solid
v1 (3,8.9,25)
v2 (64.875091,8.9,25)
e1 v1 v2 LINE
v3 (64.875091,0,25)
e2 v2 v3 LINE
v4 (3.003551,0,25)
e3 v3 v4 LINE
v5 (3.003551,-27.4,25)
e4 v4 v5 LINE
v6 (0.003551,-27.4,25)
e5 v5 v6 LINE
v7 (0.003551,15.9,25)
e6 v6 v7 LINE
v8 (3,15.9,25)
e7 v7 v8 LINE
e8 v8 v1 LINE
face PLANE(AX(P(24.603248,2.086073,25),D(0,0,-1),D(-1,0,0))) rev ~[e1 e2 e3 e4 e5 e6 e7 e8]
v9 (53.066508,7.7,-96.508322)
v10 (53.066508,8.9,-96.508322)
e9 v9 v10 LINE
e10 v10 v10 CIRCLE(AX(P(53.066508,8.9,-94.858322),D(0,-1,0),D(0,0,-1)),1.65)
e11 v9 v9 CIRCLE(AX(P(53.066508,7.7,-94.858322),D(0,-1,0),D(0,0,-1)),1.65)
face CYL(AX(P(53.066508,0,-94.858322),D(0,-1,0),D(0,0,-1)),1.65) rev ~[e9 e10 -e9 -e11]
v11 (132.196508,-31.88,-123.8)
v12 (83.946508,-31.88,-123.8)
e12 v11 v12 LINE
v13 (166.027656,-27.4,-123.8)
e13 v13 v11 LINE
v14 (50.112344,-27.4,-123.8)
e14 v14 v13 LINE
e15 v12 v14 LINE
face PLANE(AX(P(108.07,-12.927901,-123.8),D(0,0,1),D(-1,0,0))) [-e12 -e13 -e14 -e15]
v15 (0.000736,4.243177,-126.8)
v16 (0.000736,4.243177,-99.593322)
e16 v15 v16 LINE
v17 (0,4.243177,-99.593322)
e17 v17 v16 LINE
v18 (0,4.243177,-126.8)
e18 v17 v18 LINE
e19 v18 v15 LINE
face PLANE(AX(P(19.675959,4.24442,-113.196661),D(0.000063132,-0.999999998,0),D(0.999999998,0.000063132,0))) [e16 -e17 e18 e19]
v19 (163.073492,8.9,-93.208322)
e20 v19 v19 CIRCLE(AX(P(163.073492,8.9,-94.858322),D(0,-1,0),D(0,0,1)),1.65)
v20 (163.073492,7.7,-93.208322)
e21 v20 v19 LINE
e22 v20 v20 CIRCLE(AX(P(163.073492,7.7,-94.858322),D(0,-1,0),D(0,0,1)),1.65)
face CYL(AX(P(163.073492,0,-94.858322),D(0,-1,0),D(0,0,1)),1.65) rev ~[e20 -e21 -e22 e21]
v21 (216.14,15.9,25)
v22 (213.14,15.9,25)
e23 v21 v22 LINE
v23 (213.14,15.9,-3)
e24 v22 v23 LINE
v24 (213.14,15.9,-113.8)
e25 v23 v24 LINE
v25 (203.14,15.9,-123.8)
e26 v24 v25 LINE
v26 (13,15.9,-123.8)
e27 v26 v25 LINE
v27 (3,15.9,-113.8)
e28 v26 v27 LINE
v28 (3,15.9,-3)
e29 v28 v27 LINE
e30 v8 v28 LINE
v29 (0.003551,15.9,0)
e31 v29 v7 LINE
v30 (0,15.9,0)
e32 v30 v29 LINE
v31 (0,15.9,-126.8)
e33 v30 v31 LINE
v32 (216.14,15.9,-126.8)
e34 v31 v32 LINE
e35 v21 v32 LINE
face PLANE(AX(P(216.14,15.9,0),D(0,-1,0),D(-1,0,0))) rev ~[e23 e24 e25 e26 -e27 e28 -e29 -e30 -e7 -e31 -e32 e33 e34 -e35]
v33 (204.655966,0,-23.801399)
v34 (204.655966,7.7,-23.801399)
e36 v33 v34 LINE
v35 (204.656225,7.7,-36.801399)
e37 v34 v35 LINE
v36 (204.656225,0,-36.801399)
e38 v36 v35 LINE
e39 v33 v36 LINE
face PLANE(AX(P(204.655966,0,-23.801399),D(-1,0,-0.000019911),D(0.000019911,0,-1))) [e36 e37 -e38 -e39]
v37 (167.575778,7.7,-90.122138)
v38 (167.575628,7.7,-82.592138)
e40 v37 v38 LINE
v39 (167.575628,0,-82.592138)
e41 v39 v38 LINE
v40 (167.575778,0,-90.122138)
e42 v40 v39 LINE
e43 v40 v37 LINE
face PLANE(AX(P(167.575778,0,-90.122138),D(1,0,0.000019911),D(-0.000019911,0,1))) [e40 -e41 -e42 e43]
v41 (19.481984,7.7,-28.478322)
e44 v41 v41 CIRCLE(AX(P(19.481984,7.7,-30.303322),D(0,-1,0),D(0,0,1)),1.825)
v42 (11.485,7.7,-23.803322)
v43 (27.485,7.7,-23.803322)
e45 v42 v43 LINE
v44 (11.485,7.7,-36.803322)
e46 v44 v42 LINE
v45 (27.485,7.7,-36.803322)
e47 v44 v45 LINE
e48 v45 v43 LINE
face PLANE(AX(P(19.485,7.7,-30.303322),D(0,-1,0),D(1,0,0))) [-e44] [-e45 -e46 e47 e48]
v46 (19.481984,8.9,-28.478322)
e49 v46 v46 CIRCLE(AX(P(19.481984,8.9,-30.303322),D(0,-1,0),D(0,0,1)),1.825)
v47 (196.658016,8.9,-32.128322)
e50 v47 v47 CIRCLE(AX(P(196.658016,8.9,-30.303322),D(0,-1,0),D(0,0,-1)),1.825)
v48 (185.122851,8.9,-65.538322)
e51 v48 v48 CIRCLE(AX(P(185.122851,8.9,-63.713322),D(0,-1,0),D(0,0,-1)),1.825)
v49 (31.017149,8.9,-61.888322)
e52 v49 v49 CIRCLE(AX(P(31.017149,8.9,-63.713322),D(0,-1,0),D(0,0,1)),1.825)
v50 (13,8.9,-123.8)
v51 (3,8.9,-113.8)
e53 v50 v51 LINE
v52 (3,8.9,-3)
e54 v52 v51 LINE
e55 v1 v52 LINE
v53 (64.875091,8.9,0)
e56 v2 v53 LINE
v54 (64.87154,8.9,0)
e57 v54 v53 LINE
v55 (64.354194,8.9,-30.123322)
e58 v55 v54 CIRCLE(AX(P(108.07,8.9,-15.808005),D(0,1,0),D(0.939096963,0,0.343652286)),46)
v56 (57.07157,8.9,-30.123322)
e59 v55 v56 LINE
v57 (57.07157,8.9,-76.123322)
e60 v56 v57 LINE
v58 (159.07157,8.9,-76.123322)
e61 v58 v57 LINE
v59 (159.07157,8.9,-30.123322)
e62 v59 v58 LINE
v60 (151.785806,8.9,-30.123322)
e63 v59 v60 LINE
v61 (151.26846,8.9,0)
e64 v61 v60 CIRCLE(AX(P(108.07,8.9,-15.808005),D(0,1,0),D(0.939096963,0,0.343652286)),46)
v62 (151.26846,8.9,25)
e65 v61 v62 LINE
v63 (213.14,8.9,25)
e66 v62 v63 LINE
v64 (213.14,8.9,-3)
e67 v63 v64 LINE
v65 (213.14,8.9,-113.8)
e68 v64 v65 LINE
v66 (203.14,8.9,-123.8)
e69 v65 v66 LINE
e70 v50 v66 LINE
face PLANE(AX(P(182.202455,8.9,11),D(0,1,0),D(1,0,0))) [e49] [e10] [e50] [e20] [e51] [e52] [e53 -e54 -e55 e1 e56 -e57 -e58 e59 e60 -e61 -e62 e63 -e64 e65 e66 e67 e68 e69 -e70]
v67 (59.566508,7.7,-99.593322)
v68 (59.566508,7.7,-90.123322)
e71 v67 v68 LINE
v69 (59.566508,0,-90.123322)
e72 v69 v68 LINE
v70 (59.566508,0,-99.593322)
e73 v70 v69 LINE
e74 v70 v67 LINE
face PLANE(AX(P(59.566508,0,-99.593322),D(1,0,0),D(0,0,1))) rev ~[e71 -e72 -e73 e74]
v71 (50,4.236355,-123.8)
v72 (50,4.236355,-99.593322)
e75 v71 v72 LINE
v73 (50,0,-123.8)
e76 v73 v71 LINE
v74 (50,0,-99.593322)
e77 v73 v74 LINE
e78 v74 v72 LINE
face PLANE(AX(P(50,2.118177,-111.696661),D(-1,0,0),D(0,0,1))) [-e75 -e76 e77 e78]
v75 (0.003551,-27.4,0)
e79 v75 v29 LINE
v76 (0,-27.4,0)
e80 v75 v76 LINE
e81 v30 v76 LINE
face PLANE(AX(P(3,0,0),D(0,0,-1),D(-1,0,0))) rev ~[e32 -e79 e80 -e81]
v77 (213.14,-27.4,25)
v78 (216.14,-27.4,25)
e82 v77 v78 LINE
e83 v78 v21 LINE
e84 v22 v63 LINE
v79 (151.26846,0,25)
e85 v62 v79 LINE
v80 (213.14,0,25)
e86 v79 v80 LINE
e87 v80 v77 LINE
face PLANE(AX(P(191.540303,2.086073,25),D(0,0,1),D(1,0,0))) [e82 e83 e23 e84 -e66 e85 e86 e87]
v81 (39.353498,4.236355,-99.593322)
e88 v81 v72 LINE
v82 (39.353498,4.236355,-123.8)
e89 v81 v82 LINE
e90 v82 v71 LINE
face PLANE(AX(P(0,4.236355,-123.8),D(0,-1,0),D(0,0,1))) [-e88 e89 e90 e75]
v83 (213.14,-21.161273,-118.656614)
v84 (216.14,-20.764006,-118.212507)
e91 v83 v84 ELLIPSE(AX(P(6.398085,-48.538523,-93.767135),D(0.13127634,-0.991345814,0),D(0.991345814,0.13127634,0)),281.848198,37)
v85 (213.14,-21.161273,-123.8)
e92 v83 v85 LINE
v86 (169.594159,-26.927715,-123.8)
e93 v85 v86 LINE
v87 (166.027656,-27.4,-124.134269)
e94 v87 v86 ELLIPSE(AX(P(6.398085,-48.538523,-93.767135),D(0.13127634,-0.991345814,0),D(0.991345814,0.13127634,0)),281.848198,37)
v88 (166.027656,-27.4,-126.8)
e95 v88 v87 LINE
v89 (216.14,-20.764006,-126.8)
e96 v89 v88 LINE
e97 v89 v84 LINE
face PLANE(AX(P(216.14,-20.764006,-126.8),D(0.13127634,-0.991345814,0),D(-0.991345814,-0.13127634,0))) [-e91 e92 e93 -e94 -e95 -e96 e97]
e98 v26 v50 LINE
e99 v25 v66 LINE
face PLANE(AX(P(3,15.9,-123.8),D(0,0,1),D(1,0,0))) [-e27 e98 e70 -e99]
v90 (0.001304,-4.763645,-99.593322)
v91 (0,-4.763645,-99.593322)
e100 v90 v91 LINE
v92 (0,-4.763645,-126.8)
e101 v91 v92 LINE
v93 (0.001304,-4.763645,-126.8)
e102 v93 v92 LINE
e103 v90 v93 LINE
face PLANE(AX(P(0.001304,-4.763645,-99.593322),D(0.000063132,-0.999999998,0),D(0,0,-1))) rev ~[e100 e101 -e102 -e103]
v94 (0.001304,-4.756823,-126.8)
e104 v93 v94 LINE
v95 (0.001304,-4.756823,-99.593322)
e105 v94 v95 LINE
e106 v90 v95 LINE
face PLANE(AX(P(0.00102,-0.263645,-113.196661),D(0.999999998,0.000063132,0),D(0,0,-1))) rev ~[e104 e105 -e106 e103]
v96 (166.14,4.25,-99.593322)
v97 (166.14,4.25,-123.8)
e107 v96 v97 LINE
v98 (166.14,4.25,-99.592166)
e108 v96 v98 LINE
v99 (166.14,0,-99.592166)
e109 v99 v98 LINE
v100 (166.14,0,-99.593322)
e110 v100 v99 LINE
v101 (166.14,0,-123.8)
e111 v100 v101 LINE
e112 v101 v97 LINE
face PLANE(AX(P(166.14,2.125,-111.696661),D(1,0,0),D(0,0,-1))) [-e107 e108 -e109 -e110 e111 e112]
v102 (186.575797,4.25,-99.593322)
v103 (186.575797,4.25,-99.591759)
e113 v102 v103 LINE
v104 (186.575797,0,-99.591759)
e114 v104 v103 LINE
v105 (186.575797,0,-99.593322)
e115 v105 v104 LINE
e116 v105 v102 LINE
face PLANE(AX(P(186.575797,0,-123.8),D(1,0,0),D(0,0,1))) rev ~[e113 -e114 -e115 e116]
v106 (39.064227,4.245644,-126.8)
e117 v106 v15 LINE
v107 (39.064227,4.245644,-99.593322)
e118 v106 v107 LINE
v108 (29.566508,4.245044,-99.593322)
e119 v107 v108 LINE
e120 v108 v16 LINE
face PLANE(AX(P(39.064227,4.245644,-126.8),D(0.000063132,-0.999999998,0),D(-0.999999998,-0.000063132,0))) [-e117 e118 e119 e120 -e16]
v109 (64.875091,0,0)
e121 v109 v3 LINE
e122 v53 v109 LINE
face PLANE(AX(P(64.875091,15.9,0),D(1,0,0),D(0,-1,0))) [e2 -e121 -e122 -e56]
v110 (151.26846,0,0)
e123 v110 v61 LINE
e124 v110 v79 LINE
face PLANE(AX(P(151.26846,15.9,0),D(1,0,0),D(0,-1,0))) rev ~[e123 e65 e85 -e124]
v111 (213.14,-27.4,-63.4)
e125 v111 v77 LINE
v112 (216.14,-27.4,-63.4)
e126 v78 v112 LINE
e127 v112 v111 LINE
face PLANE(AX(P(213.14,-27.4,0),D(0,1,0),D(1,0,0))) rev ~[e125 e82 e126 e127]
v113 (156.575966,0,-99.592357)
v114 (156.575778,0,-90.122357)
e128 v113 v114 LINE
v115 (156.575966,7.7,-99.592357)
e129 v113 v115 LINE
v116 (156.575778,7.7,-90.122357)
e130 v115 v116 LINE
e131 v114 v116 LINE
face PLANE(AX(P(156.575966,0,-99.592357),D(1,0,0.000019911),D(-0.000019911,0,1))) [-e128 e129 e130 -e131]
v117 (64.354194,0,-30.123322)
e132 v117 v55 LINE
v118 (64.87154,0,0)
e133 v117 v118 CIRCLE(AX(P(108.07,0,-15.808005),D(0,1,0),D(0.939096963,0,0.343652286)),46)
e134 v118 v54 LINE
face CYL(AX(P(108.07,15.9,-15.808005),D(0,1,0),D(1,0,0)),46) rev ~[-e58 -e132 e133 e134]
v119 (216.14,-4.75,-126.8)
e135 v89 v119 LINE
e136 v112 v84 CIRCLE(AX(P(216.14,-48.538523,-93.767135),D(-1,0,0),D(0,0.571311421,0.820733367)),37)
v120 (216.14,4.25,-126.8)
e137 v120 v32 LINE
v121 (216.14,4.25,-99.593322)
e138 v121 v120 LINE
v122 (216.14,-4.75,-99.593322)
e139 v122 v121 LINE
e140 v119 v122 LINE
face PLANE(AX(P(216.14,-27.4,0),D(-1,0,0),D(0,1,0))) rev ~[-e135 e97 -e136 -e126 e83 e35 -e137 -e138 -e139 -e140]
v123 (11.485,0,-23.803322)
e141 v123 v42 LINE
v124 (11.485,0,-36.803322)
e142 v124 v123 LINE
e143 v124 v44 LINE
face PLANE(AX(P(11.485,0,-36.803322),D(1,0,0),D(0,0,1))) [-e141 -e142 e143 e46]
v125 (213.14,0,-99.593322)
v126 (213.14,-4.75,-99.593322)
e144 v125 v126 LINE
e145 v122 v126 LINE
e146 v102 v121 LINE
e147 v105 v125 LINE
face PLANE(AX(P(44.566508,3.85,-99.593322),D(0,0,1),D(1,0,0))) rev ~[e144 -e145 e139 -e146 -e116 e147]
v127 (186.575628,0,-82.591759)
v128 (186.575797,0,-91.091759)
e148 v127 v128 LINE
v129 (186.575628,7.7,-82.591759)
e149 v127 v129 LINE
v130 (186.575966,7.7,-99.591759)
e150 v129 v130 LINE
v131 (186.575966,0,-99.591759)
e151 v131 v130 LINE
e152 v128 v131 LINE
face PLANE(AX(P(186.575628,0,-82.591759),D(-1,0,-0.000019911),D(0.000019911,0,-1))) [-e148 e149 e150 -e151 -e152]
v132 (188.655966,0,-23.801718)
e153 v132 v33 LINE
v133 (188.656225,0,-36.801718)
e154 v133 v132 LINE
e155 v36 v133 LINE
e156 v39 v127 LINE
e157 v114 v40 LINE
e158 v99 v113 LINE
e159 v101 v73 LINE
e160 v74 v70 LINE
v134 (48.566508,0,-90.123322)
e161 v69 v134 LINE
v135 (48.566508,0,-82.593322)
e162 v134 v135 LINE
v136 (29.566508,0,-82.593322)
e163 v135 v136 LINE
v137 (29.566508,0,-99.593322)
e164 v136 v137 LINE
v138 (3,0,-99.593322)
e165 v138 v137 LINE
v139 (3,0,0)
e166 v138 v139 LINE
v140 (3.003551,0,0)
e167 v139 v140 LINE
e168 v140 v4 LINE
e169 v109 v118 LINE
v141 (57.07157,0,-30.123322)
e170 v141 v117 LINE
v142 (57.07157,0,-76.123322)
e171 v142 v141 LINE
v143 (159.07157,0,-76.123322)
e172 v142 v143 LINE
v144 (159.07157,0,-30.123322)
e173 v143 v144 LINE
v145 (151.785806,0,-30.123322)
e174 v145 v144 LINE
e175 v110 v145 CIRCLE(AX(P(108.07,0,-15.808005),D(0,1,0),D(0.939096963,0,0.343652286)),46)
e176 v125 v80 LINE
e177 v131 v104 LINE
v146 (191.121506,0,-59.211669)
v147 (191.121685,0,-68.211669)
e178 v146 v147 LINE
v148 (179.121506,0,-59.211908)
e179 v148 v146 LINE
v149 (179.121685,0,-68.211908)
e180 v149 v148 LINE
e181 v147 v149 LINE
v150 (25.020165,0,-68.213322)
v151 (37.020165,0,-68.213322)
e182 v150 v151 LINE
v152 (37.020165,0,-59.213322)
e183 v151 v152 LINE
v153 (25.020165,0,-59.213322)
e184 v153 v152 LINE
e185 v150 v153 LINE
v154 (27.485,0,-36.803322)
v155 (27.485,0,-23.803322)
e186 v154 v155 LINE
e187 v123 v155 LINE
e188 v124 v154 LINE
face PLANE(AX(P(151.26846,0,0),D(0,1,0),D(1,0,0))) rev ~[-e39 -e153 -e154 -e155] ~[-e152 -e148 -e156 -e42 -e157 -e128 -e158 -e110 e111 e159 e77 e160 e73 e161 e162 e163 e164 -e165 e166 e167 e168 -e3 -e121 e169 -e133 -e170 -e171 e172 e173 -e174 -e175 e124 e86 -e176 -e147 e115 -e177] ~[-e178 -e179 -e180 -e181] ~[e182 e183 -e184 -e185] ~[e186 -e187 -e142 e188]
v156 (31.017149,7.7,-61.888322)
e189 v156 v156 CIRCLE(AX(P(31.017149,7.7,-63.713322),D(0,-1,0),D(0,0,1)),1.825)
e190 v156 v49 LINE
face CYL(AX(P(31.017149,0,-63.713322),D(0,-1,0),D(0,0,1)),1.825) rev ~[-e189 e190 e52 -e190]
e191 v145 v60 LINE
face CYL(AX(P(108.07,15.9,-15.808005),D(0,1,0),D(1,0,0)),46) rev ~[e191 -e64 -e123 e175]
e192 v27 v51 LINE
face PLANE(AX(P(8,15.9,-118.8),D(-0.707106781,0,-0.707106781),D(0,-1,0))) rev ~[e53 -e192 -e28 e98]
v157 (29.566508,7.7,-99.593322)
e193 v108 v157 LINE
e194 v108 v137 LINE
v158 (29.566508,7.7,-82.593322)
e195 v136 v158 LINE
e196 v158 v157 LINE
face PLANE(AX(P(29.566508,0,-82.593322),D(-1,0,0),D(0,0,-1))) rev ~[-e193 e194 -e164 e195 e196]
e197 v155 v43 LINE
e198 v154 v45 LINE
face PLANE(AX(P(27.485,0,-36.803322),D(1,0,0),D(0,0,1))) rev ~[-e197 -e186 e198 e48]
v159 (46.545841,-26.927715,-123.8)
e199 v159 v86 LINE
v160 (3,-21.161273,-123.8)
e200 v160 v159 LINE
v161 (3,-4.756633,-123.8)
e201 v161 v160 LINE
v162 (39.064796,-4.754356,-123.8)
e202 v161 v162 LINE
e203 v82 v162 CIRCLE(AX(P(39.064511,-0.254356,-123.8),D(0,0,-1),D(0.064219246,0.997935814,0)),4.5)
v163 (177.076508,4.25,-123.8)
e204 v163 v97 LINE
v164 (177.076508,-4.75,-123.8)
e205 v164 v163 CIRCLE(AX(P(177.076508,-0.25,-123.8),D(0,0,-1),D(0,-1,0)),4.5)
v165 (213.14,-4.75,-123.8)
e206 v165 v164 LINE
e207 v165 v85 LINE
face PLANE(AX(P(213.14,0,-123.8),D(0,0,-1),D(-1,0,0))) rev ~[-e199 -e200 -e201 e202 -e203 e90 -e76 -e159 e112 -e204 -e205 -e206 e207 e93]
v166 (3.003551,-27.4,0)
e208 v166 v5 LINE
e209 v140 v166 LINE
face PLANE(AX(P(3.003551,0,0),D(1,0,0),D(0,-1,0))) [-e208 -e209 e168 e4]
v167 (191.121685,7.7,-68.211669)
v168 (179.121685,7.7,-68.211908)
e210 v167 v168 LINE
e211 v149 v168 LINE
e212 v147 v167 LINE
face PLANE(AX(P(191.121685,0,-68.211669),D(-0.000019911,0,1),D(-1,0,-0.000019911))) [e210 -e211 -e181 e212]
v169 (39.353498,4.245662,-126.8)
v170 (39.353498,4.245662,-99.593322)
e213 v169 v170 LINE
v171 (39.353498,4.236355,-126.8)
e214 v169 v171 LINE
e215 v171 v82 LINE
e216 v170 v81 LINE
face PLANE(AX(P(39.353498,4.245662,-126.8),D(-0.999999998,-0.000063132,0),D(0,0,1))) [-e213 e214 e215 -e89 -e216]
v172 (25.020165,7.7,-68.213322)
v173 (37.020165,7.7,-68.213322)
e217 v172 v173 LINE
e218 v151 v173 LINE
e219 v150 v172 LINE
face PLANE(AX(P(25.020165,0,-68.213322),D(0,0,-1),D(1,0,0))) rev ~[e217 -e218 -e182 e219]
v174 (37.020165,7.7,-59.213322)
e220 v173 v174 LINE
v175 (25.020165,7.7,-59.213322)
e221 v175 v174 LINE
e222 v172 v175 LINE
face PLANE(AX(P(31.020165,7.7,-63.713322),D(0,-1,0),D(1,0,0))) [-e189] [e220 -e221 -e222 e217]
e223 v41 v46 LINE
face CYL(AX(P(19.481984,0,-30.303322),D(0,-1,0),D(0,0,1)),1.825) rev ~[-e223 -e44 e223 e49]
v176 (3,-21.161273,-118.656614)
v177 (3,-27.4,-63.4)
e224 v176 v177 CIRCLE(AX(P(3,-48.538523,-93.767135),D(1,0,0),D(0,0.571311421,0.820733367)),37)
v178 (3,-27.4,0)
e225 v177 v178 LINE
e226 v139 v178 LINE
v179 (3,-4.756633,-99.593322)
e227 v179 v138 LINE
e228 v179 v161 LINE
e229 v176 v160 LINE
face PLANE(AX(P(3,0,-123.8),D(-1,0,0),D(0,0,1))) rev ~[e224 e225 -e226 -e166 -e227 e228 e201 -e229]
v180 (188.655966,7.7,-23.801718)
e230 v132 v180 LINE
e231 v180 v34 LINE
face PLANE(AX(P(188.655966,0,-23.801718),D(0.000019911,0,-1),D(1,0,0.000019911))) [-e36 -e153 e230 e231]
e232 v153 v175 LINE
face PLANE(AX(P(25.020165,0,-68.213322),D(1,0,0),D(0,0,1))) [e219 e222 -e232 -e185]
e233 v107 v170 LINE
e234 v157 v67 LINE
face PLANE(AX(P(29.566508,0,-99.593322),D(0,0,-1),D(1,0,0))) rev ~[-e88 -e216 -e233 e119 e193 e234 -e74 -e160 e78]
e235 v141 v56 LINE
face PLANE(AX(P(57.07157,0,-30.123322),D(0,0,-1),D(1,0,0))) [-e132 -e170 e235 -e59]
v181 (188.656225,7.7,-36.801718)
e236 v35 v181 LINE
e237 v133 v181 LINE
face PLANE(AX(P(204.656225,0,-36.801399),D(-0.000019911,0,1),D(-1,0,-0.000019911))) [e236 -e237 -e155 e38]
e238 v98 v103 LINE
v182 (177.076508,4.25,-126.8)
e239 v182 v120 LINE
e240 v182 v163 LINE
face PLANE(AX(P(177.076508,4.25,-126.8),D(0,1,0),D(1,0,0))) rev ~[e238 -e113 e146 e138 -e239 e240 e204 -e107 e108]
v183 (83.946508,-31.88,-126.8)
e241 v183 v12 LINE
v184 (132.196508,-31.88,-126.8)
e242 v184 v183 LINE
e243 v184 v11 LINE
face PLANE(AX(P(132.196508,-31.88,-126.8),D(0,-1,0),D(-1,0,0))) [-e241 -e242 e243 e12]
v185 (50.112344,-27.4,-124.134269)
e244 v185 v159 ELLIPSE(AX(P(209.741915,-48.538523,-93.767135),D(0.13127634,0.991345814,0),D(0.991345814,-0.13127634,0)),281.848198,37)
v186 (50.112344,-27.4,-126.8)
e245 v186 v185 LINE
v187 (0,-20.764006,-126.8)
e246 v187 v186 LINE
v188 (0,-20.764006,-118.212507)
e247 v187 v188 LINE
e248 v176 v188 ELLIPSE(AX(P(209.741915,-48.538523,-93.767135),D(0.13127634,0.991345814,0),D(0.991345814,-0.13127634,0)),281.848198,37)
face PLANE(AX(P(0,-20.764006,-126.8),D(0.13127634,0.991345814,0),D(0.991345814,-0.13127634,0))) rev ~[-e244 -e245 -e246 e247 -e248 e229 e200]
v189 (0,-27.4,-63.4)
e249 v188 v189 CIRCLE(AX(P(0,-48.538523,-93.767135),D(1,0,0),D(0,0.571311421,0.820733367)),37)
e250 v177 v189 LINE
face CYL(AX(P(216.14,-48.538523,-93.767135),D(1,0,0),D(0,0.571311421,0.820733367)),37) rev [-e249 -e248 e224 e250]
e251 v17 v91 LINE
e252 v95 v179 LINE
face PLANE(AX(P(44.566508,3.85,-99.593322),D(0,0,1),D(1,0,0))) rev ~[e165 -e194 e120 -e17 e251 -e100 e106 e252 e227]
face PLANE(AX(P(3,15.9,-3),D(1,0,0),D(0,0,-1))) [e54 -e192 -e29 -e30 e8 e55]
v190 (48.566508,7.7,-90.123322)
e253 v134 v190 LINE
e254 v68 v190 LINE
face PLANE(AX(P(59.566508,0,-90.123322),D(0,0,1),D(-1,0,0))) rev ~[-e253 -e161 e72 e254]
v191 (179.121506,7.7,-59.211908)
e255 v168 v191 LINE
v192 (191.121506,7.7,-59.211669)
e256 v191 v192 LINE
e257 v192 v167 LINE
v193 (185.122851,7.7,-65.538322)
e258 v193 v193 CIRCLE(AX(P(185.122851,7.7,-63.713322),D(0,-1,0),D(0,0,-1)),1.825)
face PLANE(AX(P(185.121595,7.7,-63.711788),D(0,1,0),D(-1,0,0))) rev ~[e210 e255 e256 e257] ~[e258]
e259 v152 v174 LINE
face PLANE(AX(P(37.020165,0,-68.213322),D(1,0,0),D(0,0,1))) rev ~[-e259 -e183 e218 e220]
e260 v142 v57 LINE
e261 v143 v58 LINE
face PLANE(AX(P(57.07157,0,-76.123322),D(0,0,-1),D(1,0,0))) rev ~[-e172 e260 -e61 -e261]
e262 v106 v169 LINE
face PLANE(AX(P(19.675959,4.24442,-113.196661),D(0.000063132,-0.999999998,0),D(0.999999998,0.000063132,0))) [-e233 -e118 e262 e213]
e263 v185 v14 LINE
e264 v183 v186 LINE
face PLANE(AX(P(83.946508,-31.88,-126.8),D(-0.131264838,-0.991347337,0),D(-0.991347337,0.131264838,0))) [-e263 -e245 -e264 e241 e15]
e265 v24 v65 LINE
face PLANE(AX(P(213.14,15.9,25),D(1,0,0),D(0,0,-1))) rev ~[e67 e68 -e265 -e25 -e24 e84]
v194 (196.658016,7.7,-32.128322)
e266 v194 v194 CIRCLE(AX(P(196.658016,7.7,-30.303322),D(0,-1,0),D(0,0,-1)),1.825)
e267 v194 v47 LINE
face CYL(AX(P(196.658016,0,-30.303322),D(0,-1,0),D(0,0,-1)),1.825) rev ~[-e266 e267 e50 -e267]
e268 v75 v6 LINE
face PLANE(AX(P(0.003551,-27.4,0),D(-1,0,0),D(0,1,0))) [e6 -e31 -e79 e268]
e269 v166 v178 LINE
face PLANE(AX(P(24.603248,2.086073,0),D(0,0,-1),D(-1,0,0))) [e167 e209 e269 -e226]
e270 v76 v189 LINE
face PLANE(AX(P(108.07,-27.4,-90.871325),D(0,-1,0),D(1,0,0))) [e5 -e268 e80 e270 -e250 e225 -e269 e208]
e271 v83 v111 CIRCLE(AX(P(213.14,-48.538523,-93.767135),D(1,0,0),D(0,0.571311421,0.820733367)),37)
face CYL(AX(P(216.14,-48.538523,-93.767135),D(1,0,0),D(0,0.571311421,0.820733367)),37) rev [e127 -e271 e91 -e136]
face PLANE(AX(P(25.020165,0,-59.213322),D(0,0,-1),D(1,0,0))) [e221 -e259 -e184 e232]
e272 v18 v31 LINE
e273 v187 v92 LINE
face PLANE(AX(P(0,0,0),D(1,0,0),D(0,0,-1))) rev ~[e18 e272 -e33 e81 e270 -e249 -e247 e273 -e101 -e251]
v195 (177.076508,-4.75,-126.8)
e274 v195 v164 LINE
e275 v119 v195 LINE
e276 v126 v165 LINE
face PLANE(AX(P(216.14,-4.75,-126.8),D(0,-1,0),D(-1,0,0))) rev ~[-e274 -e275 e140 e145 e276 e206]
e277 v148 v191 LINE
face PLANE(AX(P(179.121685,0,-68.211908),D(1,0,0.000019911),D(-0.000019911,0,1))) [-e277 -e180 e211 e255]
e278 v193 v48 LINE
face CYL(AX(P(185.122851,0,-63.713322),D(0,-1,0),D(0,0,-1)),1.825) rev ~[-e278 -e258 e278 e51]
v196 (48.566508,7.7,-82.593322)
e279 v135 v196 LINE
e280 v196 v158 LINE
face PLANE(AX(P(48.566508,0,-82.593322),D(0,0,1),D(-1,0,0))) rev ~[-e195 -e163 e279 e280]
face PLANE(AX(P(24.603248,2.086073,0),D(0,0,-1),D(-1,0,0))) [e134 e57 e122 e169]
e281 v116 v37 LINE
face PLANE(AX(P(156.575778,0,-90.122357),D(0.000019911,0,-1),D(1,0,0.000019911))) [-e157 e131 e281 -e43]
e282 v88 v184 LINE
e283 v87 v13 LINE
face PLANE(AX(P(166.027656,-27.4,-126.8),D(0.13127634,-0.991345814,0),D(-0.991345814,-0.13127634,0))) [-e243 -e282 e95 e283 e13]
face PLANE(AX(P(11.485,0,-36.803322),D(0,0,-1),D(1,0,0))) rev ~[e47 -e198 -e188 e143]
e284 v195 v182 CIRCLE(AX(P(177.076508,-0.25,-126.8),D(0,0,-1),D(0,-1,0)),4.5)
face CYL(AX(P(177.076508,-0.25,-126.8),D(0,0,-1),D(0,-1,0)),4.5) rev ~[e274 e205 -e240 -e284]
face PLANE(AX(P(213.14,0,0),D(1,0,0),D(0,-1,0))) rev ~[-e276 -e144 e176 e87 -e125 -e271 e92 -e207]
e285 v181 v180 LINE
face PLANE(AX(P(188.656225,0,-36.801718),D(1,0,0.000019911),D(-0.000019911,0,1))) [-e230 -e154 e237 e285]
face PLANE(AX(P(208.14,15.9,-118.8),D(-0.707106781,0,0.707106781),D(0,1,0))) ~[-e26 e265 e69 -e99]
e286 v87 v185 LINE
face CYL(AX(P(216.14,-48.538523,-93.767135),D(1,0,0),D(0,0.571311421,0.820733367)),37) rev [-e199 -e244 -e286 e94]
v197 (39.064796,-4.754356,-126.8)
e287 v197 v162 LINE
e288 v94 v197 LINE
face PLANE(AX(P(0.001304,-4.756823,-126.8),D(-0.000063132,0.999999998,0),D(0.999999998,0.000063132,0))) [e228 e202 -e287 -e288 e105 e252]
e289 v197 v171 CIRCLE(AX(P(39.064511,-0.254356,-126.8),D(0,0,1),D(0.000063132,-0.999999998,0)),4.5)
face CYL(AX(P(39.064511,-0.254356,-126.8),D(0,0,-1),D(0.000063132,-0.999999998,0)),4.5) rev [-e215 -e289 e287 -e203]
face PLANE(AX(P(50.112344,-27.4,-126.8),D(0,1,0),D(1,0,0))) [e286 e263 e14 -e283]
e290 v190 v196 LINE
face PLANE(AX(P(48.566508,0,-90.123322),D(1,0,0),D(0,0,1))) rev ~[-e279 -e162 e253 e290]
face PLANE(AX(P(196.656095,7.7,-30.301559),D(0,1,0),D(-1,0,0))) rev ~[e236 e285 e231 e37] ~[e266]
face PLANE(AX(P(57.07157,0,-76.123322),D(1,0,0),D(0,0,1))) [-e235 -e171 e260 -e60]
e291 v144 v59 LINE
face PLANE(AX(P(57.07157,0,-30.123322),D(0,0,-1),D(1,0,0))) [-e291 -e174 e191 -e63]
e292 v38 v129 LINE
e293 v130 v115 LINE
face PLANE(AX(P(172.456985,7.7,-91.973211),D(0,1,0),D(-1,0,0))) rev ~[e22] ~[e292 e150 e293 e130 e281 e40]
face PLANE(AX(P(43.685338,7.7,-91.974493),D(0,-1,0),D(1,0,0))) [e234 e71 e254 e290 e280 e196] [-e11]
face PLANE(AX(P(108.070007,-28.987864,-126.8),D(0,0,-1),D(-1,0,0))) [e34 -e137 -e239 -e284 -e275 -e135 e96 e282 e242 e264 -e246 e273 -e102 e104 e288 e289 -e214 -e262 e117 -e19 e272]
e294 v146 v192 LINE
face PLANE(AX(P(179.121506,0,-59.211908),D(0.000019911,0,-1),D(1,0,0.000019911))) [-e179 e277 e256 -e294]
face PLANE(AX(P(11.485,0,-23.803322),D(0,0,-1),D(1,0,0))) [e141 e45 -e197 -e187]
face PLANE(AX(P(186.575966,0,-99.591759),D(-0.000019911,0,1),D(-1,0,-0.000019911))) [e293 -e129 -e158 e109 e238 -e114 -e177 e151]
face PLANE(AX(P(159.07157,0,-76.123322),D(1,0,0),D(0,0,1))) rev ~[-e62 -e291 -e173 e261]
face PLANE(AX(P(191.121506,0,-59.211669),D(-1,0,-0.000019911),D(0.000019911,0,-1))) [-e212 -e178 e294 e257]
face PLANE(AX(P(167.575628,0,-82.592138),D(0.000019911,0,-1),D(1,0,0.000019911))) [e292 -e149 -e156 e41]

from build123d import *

# Parameters (mm, degrees)
CROQUIS1_W              = 216.14
CROQUIS1_H              = 126.8
SALIENTE_EXTRUIR1_DEPTH = 15.9
CROQUIS5_W              = 210.14
CROQUIS5_H              = 120.8
CORTAR_EXTRUIR2_DEPTH   = 7
CROQUIS3_R              = 46
CORTAR_EXTRUIR1_DEPTH   = 252.092711165
CROQUIS6_R              = 1.825
CROQUIS6_R_2            = 1.65
CORTAR_EXTRUIR3_DEPTH   = 252.092711165
SALIENTE_EXTRUIR2_DEPTH = 27.4
CORTAR_EXTRUIR4_DEPTH   = 253.082327028
CORTAR_EXTRUIR5_DEPTH   = 10
SALIENTE_EXTRUIR3_REACH = 254.082
SALIENTE_EXTRUIR4_DEPTH = 25
CROQUIS13_W             = 61.875090743
CROQUIS13_H             = 28
CORTAR_EXTRUIR7_DEPTH   = 7
CROQUIS16_W             = 12
CROQUIS16_H             = 9
CROQUIS16_W_2           = 16
CROQUIS16_H_2           = 13
CORTAR_EXTRUIR8_DEPTH   = 7.7
CHAFL_N1_SIZE           = 10
CROQUIS21_W             = 102
CROQUIS21_H             = 46
CORTAR_EXTRUIR10_DEPTH  = 253.608539048
CORTAR_EXTRUIR11_REACH  = 268.038
CROQUIS23_W             = 27.206677637
CROQUIS23_H             = 8.999999982
CORTAR_EXTRUIR12_DEPTH  = 253.607680361
CROQUIS25_W             = 24.206677637
CROQUIS25_H             = 4.236354688
CORTAR_EXTRUIR16_DEPTH  = 50
CROQUIS26_W             = 24.206677637
CROQUIS26_H             = 4.25
CORTAR_EXTRUIR17_DEPTH  = 50
CROQUIS31_W             = 20.435797251
CROQUIS31_H             = 32.708240737
CORTAR_EXTRUIR19_DEPTH  = 4.25
CORTAR_EXTRUIR20_REACH  = 255.179
CROQUIS32_W             = 39.355076343
CROQUIS32_H             = 27.206677637


with BuildPart() as part:
    # Croquis1 → Saliente-Extruir1 (new body)
    with BuildSketch(Plane(origin=(0, 0, 0), x_dir=(1, 0, 0), z_dir=(0, 1, 0))):
        with Locations((108.07, 63.4)):
            Rectangle(CROQUIS1_W, CROQUIS1_H)
    extrude(amount=SALIENTE_EXTRUIR1_DEPTH)

    # Croquis5 → Cortar-Extruir2 (cut)
    with BuildSketch(Plane(origin=(0, 15.9, 0), x_dir=(1, 0, 0), z_dir=(0, 1, 0))):
        with Locations((108.07, 63.4)):
            Rectangle(CROQUIS5_W, CROQUIS5_H)
    extrude(amount=-CORTAR_EXTRUIR2_DEPTH, mode=Mode.SUBTRACT)

    # Croquis3 → Cortar-Extruir1 (cut, through all)
    with BuildSketch(Plane(origin=(0, 15.9, 0), x_dir=(1, 0, 0), z_dir=(0, 1, 0))):
        with Locations((108.07, 15.808005153)):
            Circle(CROQUIS3_R)
    extrude(amount=-CORTAR_EXTRUIR1_DEPTH, mode=Mode.SUBTRACT)

    # Croquis6 → Cortar-Extruir3 (cut, through all)
    with BuildSketch(Plane(origin=(0, 0, 0), x_dir=(-1, 0, 0), z_dir=(0, -1, 0))):
        with Locations(Location((-196.658016439, 30.303322363, 0), (0, 0, 90))):
            Circle(CROQUIS6_R)
        with Locations(Location((-185.122851299, 63.713322363, 0), (0, 0, 90))):
            Circle(CROQUIS6_R)
        with Locations(Location((-31.017148701, 63.713322363, 0), (0, 0, 270))):
            Circle(CROQUIS6_R)
        with Locations(Location((-19.481983561, 30.303322363, 0), (0, 0, 270))):
            Circle(CROQUIS6_R)
        with Locations(Location((-53.066508219, 94.858322363, 0), (0, 0, 90))):
            Circle(CROQUIS6_R_2)
        with Locations(Location((-163.073491781, 94.858322363, 0), (0, 0, 270))):
            Circle(CROQUIS6_R_2)
    extrude(amount=-CORTAR_EXTRUIR3_DEPTH, mode=Mode.SUBTRACT)

    # Croquis7 → Saliente-Extruir2 (add)
    with BuildSketch(Plane.XZ):
        Polygon((216.14, 0), (213.14, 0), (213.14, -123.8), (3, -123.8), (3, 0), (0, 0), (0, -126.8), (216.14, -126.8), align=None)
    extrude(amount=SALIENTE_EXTRUIR2_DEPTH)

    # Croquis8 → Cortar-Extruir4 (cut, through all)
    with BuildSketch(Plane(origin=(216.14, 0, 0), x_dir=(0, 0, -1), z_dir=(1, 0, 0))):
        with BuildLine():
            Line((124.134269168, -27.4), (63.4, -27.4))
            ThreePointArc((63.4, -27.4), (93.767134584, -11.538522587), (124.134269168, -27.4))
        make_face()
    extrude(amount=-CORTAR_EXTRUIR4_DEPTH, mode=Mode.SUBTRACT)

    # Croquis9 → Cortar-Extruir5 (cut)
    with BuildSketch(Plane(origin=(0, 0, -126.8), x_dir=(-1, 0, 0), z_dir=(0, 0, -1))):
        Polygon((-216.14, -20.764005722), (-166.027655823, -27.4), (-216.14, -27.4), align=None)
        Polygon((-50.112344177, -27.4), (0, -27.4), (0, -20.764005722), align=None)
    extrude(amount=-CORTAR_EXTRUIR5_DEPTH, mode=Mode.SUBTRACT)

    # Saliente-Extruir3: up to this face of the body (flat: up to its plane)
    saliente_extruir3_end = Plane(part.part.faces().sort_by_distance((108.07, -12.927901237, -123.8))[0])
    # Croquis10 → Saliente-Extruir3 (add, up to the picked face)
    with BuildSketch(Plane(origin=(0, 0, -126.8), x_dir=(-1, 0, 0), z_dir=(0, 0, -1)), mode=Mode.PRIVATE) as saliente_extruir3_sk1:
        Polygon((-166.027655823, -27.4), (-132.196508219, -31.88), (-83.946508219, -31.88), (-50.112344177, -27.4), align=None)
    saliente_extruir3_tool1 = split(extrude(saliente_extruir3_sk1.sketch, amount=-SALIENTE_EXTRUIR3_REACH, mode=Mode.PRIVATE), bisect_by=saliente_extruir3_end, keep=Keep.BOTH, mode=Mode.PRIVATE)
    add(saliente_extruir3_tool1.solids().sort_by(Axis((108.070651, -29.332241, -126.8), (0, 0, 1)))[0])

    # Croquis11 → Saliente-Extruir4 (add)
    with BuildSketch(Plane.XY):
        Polygon((151.268460309, 15.9), (151.268460309, 0), (213.14, 0), (213.14, -27.4), (216.14, -27.4), (216.14, 15.9), align=None)
        Polygon((0.003551053, -27.4), (0.003551053, 15.9), (64.875090743, 15.9), (64.875090743, 0), (3.003551053, 0), (3.003551053, -27.4), align=None)
    extrude(amount=SALIENTE_EXTRUIR4_DEPTH)

    # Croquis13 → Cortar-Extruir7 (cut)
    with BuildSketch(Plane(origin=(0, 15.9, 0), x_dir=(1, 0, 0), z_dir=(0, 1, 0))):
        with Locations((33.937545372, -11)):
            Rectangle(CROQUIS13_W, CROQUIS13_H)
        with Locations((182.202454628, -11)):
            Rectangle(CROQUIS13_W, CROQUIS13_H)
    extrude(amount=-CORTAR_EXTRUIR7_DEPTH, mode=Mode.SUBTRACT)

    # Croquis16 → Cortar-Extruir8 (cut)
    with BuildSketch(Plane.XZ):
        with Locations((31.02016514, -63.713322363)):
            Rectangle(CROQUIS16_W, CROQUIS16_H)
        with Locations((19.485, -30.303322363)):
            Rectangle(CROQUIS16_W_2, CROQUIS16_H_2)
        Polygon((186.575628008, -82.591759265), (186.575966494, -99.591759262), (156.5759665, -99.592356589), (156.575777943, -90.122356591), (167.575777941, -90.122137571), (167.575628012, -82.592137572), align=None)
        Polygon((191.121505569, -59.211668748), (191.121684768, -68.211668746), (179.12168477, -68.211907677), (179.121505572, -59.211907679), align=None)
        Polygon((204.656224503, -36.801399255), (188.656224506, -36.801717829), (188.655965664, -23.801717832), (204.655965661, -23.801399257), align=None)
        Polygon((29.566508219, -99.593322363), (59.566508219, -99.593322363), (59.566508219, -90.123322363), (48.566508219, -90.123322363), (48.566508219, -82.593322363), (29.566508219, -82.593322363), align=None)
    extrude(amount=-CORTAR_EXTRUIR8_DEPTH, mode=Mode.SUBTRACT)

    # Chaflán1
    chafl_n1_edges = [part.edges().sort_by_distance(p)[0] for p in [
        (3, 12.4, -123.8),
        (213.14, 12.4, -123.8),
    ]]
    chamfer(chafl_n1_edges, length=CHAFL_N1_SIZE)

    # Croquis21 → Cortar-Extruir10 (cut, through all)
    with BuildSketch(Plane.XZ):
        with Locations((108.071569823, -53.123322363)):
            Rectangle(CROQUIS21_W, CROQUIS21_H)
    extrude(amount=-CORTAR_EXTRUIR10_DEPTH, mode=Mode.SUBTRACT)

    # Cortar-Extruir11: up to this face of the body (flat: up to its plane)
    cortar_extruir11_end = Plane(part.part.faces().sort_by_distance((44.566508219, 3.85, -99.593322363))[0])
    # Croquis22 → Cortar-Extruir11 (cut, up to the picked face)
    with BuildSketch(Plane(origin=(0, 0, -126.8), x_dir=(-1, 0, 0), z_dir=(0, 0, -1)), mode=Mode.PRIVATE) as cortar_extruir11_sk1:
        with BuildLine():
            Line((-177.076508219, 4.25), (-216.14, 4.25))
            Line((-216.14, 4.25), (-216.14, -4.75))
            Line((-216.14, -4.75), (-177.076508219, -4.75))
            ThreePointArc((-177.076508219, -4.75), (-172.576508219, -0.25), (-177.076508219, 4.25))
        make_face()
    cortar_extruir11_tool1 = split(extrude(cortar_extruir11_sk1.sketch, amount=-CORTAR_EXTRUIR11_REACH, mode=Mode.PRIVATE), bisect_by=cortar_extruir11_end, keep=Keep.BOTH, mode=Mode.PRIVATE)
    # Croquis22 → Cortar-Extruir11 (cut, up to the picked face)
    with BuildSketch(Plane(origin=(0, 0, -126.8), x_dir=(-1, 0, 0), z_dir=(0, 0, -1)), mode=Mode.PRIVATE) as cortar_extruir11_sk2:
        with BuildLine():
            Line((-0.001303888, -4.756822615), (-39.06479559, -4.754356466))
            ThreePointArc((-39.06479559, -4.754356466), (-43.564511488, -0.254072381), (-39.064227404, 4.245643517))
            Line((-39.064227404, 4.245643517), (-0.000735701, 4.243177367))
            Line((-0.000735701, 4.243177367), (-0.001303888, -4.756822615))
        make_face()
    cortar_extruir11_tool2 = split(extrude(cortar_extruir11_sk2.sketch, amount=-CORTAR_EXTRUIR11_REACH, mode=Mode.PRIVATE), bisect_by=cortar_extruir11_end, keep=Keep.BOTH, mode=Mode.PRIVATE)
    add(cortar_extruir11_tool1.solids().sort_by(Axis((194.829267, -0.25, -126.8), (0, 0, 1)))[0], mode=Mode.SUBTRACT)
    add(cortar_extruir11_tool2.solids().sort_by(Axis((21.311752, -0.255477, -126.8), (0, 0, 1)))[0], mode=Mode.SUBTRACT)

    # Croquis23 → Cortar-Extruir12 (cut, through all)
    with BuildSketch(Plane(origin=(0.001003581, 6.3e-08, 0), x_dir=(0, 0, -1), z_dir=(0.9999999980071865, 6.3131823435647e-05, 0))):
        with Locations((113.196661182, -0.263645312)):
            Rectangle(CROQUIS23_W, CROQUIS23_H)
    extrude(amount=-CORTAR_EXTRUIR12_DEPTH, mode=Mode.SUBTRACT)

    # Croquis25 → Cortar-Extruir16 (cut)
    with BuildSketch(Plane.ZY):
        with Locations((-111.696661182, 2.118177344)):
            Rectangle(CROQUIS25_W, CROQUIS25_H)
    extrude(amount=-CORTAR_EXTRUIR16_DEPTH, mode=Mode.SUBTRACT)

    # Croquis26 → Cortar-Extruir17 (cut)
    with BuildSketch(Plane(origin=(216.14, 0, 0), x_dir=(0, 0, -1), z_dir=(1, 0, 0))):
        with Locations((111.696661182, 2.125)):
            Rectangle(CROQUIS26_W, CROQUIS26_H)
    extrude(amount=-CORTAR_EXTRUIR17_DEPTH, mode=Mode.SUBTRACT)

    # Croquis31 → Cortar-Extruir19 (cut)
    with BuildSketch(Plane.XZ):
        with Locations((176.357898626, -107.445879632)):
            Rectangle(CROQUIS31_W, CROQUIS31_H)
    extrude(amount=-CORTAR_EXTRUIR19_DEPTH, mode=Mode.SUBTRACT)

    # Cortar-Extruir20: up to this face of the body (flat: up to its plane)
    cortar_extruir20_end = Plane(part.part.faces().sort_by_distance((44.676749051, 4.236354688, -111.696661182))[0])
    # Croquis32 → Cortar-Extruir20 (cut, up to the picked face)
    with BuildSketch(Plane(origin=(-0.00026788, 4.243177304, 0), x_dir=(0.9999999980071865, 6.313182343619669e-05, 0), z_dir=(6.313182343619669e-05, -0.9999999980071865, 0)), mode=Mode.PRIVATE) as cortar_extruir20_sk1:
        with Locations((19.676227302, -113.196661182)):
            Rectangle(CROQUIS32_W, CROQUIS32_H)
    cortar_extruir20_tool1 = split(extrude(cortar_extruir20_sk1.sketch, amount=CORTAR_EXTRUIR20_REACH, mode=Mode.PRIVATE), bisect_by=cortar_extruir20_end, keep=Keep.BOTH, mode=Mode.PRIVATE)
    add(cortar_extruir20_tool1.solids().sort_by(Axis((19.675959, 4.244419, -113.196661), (6.313182343619669e-05, -0.9999999980071865, 0)))[0], mode=Mode.SUBTRACT)


solid = part.part
